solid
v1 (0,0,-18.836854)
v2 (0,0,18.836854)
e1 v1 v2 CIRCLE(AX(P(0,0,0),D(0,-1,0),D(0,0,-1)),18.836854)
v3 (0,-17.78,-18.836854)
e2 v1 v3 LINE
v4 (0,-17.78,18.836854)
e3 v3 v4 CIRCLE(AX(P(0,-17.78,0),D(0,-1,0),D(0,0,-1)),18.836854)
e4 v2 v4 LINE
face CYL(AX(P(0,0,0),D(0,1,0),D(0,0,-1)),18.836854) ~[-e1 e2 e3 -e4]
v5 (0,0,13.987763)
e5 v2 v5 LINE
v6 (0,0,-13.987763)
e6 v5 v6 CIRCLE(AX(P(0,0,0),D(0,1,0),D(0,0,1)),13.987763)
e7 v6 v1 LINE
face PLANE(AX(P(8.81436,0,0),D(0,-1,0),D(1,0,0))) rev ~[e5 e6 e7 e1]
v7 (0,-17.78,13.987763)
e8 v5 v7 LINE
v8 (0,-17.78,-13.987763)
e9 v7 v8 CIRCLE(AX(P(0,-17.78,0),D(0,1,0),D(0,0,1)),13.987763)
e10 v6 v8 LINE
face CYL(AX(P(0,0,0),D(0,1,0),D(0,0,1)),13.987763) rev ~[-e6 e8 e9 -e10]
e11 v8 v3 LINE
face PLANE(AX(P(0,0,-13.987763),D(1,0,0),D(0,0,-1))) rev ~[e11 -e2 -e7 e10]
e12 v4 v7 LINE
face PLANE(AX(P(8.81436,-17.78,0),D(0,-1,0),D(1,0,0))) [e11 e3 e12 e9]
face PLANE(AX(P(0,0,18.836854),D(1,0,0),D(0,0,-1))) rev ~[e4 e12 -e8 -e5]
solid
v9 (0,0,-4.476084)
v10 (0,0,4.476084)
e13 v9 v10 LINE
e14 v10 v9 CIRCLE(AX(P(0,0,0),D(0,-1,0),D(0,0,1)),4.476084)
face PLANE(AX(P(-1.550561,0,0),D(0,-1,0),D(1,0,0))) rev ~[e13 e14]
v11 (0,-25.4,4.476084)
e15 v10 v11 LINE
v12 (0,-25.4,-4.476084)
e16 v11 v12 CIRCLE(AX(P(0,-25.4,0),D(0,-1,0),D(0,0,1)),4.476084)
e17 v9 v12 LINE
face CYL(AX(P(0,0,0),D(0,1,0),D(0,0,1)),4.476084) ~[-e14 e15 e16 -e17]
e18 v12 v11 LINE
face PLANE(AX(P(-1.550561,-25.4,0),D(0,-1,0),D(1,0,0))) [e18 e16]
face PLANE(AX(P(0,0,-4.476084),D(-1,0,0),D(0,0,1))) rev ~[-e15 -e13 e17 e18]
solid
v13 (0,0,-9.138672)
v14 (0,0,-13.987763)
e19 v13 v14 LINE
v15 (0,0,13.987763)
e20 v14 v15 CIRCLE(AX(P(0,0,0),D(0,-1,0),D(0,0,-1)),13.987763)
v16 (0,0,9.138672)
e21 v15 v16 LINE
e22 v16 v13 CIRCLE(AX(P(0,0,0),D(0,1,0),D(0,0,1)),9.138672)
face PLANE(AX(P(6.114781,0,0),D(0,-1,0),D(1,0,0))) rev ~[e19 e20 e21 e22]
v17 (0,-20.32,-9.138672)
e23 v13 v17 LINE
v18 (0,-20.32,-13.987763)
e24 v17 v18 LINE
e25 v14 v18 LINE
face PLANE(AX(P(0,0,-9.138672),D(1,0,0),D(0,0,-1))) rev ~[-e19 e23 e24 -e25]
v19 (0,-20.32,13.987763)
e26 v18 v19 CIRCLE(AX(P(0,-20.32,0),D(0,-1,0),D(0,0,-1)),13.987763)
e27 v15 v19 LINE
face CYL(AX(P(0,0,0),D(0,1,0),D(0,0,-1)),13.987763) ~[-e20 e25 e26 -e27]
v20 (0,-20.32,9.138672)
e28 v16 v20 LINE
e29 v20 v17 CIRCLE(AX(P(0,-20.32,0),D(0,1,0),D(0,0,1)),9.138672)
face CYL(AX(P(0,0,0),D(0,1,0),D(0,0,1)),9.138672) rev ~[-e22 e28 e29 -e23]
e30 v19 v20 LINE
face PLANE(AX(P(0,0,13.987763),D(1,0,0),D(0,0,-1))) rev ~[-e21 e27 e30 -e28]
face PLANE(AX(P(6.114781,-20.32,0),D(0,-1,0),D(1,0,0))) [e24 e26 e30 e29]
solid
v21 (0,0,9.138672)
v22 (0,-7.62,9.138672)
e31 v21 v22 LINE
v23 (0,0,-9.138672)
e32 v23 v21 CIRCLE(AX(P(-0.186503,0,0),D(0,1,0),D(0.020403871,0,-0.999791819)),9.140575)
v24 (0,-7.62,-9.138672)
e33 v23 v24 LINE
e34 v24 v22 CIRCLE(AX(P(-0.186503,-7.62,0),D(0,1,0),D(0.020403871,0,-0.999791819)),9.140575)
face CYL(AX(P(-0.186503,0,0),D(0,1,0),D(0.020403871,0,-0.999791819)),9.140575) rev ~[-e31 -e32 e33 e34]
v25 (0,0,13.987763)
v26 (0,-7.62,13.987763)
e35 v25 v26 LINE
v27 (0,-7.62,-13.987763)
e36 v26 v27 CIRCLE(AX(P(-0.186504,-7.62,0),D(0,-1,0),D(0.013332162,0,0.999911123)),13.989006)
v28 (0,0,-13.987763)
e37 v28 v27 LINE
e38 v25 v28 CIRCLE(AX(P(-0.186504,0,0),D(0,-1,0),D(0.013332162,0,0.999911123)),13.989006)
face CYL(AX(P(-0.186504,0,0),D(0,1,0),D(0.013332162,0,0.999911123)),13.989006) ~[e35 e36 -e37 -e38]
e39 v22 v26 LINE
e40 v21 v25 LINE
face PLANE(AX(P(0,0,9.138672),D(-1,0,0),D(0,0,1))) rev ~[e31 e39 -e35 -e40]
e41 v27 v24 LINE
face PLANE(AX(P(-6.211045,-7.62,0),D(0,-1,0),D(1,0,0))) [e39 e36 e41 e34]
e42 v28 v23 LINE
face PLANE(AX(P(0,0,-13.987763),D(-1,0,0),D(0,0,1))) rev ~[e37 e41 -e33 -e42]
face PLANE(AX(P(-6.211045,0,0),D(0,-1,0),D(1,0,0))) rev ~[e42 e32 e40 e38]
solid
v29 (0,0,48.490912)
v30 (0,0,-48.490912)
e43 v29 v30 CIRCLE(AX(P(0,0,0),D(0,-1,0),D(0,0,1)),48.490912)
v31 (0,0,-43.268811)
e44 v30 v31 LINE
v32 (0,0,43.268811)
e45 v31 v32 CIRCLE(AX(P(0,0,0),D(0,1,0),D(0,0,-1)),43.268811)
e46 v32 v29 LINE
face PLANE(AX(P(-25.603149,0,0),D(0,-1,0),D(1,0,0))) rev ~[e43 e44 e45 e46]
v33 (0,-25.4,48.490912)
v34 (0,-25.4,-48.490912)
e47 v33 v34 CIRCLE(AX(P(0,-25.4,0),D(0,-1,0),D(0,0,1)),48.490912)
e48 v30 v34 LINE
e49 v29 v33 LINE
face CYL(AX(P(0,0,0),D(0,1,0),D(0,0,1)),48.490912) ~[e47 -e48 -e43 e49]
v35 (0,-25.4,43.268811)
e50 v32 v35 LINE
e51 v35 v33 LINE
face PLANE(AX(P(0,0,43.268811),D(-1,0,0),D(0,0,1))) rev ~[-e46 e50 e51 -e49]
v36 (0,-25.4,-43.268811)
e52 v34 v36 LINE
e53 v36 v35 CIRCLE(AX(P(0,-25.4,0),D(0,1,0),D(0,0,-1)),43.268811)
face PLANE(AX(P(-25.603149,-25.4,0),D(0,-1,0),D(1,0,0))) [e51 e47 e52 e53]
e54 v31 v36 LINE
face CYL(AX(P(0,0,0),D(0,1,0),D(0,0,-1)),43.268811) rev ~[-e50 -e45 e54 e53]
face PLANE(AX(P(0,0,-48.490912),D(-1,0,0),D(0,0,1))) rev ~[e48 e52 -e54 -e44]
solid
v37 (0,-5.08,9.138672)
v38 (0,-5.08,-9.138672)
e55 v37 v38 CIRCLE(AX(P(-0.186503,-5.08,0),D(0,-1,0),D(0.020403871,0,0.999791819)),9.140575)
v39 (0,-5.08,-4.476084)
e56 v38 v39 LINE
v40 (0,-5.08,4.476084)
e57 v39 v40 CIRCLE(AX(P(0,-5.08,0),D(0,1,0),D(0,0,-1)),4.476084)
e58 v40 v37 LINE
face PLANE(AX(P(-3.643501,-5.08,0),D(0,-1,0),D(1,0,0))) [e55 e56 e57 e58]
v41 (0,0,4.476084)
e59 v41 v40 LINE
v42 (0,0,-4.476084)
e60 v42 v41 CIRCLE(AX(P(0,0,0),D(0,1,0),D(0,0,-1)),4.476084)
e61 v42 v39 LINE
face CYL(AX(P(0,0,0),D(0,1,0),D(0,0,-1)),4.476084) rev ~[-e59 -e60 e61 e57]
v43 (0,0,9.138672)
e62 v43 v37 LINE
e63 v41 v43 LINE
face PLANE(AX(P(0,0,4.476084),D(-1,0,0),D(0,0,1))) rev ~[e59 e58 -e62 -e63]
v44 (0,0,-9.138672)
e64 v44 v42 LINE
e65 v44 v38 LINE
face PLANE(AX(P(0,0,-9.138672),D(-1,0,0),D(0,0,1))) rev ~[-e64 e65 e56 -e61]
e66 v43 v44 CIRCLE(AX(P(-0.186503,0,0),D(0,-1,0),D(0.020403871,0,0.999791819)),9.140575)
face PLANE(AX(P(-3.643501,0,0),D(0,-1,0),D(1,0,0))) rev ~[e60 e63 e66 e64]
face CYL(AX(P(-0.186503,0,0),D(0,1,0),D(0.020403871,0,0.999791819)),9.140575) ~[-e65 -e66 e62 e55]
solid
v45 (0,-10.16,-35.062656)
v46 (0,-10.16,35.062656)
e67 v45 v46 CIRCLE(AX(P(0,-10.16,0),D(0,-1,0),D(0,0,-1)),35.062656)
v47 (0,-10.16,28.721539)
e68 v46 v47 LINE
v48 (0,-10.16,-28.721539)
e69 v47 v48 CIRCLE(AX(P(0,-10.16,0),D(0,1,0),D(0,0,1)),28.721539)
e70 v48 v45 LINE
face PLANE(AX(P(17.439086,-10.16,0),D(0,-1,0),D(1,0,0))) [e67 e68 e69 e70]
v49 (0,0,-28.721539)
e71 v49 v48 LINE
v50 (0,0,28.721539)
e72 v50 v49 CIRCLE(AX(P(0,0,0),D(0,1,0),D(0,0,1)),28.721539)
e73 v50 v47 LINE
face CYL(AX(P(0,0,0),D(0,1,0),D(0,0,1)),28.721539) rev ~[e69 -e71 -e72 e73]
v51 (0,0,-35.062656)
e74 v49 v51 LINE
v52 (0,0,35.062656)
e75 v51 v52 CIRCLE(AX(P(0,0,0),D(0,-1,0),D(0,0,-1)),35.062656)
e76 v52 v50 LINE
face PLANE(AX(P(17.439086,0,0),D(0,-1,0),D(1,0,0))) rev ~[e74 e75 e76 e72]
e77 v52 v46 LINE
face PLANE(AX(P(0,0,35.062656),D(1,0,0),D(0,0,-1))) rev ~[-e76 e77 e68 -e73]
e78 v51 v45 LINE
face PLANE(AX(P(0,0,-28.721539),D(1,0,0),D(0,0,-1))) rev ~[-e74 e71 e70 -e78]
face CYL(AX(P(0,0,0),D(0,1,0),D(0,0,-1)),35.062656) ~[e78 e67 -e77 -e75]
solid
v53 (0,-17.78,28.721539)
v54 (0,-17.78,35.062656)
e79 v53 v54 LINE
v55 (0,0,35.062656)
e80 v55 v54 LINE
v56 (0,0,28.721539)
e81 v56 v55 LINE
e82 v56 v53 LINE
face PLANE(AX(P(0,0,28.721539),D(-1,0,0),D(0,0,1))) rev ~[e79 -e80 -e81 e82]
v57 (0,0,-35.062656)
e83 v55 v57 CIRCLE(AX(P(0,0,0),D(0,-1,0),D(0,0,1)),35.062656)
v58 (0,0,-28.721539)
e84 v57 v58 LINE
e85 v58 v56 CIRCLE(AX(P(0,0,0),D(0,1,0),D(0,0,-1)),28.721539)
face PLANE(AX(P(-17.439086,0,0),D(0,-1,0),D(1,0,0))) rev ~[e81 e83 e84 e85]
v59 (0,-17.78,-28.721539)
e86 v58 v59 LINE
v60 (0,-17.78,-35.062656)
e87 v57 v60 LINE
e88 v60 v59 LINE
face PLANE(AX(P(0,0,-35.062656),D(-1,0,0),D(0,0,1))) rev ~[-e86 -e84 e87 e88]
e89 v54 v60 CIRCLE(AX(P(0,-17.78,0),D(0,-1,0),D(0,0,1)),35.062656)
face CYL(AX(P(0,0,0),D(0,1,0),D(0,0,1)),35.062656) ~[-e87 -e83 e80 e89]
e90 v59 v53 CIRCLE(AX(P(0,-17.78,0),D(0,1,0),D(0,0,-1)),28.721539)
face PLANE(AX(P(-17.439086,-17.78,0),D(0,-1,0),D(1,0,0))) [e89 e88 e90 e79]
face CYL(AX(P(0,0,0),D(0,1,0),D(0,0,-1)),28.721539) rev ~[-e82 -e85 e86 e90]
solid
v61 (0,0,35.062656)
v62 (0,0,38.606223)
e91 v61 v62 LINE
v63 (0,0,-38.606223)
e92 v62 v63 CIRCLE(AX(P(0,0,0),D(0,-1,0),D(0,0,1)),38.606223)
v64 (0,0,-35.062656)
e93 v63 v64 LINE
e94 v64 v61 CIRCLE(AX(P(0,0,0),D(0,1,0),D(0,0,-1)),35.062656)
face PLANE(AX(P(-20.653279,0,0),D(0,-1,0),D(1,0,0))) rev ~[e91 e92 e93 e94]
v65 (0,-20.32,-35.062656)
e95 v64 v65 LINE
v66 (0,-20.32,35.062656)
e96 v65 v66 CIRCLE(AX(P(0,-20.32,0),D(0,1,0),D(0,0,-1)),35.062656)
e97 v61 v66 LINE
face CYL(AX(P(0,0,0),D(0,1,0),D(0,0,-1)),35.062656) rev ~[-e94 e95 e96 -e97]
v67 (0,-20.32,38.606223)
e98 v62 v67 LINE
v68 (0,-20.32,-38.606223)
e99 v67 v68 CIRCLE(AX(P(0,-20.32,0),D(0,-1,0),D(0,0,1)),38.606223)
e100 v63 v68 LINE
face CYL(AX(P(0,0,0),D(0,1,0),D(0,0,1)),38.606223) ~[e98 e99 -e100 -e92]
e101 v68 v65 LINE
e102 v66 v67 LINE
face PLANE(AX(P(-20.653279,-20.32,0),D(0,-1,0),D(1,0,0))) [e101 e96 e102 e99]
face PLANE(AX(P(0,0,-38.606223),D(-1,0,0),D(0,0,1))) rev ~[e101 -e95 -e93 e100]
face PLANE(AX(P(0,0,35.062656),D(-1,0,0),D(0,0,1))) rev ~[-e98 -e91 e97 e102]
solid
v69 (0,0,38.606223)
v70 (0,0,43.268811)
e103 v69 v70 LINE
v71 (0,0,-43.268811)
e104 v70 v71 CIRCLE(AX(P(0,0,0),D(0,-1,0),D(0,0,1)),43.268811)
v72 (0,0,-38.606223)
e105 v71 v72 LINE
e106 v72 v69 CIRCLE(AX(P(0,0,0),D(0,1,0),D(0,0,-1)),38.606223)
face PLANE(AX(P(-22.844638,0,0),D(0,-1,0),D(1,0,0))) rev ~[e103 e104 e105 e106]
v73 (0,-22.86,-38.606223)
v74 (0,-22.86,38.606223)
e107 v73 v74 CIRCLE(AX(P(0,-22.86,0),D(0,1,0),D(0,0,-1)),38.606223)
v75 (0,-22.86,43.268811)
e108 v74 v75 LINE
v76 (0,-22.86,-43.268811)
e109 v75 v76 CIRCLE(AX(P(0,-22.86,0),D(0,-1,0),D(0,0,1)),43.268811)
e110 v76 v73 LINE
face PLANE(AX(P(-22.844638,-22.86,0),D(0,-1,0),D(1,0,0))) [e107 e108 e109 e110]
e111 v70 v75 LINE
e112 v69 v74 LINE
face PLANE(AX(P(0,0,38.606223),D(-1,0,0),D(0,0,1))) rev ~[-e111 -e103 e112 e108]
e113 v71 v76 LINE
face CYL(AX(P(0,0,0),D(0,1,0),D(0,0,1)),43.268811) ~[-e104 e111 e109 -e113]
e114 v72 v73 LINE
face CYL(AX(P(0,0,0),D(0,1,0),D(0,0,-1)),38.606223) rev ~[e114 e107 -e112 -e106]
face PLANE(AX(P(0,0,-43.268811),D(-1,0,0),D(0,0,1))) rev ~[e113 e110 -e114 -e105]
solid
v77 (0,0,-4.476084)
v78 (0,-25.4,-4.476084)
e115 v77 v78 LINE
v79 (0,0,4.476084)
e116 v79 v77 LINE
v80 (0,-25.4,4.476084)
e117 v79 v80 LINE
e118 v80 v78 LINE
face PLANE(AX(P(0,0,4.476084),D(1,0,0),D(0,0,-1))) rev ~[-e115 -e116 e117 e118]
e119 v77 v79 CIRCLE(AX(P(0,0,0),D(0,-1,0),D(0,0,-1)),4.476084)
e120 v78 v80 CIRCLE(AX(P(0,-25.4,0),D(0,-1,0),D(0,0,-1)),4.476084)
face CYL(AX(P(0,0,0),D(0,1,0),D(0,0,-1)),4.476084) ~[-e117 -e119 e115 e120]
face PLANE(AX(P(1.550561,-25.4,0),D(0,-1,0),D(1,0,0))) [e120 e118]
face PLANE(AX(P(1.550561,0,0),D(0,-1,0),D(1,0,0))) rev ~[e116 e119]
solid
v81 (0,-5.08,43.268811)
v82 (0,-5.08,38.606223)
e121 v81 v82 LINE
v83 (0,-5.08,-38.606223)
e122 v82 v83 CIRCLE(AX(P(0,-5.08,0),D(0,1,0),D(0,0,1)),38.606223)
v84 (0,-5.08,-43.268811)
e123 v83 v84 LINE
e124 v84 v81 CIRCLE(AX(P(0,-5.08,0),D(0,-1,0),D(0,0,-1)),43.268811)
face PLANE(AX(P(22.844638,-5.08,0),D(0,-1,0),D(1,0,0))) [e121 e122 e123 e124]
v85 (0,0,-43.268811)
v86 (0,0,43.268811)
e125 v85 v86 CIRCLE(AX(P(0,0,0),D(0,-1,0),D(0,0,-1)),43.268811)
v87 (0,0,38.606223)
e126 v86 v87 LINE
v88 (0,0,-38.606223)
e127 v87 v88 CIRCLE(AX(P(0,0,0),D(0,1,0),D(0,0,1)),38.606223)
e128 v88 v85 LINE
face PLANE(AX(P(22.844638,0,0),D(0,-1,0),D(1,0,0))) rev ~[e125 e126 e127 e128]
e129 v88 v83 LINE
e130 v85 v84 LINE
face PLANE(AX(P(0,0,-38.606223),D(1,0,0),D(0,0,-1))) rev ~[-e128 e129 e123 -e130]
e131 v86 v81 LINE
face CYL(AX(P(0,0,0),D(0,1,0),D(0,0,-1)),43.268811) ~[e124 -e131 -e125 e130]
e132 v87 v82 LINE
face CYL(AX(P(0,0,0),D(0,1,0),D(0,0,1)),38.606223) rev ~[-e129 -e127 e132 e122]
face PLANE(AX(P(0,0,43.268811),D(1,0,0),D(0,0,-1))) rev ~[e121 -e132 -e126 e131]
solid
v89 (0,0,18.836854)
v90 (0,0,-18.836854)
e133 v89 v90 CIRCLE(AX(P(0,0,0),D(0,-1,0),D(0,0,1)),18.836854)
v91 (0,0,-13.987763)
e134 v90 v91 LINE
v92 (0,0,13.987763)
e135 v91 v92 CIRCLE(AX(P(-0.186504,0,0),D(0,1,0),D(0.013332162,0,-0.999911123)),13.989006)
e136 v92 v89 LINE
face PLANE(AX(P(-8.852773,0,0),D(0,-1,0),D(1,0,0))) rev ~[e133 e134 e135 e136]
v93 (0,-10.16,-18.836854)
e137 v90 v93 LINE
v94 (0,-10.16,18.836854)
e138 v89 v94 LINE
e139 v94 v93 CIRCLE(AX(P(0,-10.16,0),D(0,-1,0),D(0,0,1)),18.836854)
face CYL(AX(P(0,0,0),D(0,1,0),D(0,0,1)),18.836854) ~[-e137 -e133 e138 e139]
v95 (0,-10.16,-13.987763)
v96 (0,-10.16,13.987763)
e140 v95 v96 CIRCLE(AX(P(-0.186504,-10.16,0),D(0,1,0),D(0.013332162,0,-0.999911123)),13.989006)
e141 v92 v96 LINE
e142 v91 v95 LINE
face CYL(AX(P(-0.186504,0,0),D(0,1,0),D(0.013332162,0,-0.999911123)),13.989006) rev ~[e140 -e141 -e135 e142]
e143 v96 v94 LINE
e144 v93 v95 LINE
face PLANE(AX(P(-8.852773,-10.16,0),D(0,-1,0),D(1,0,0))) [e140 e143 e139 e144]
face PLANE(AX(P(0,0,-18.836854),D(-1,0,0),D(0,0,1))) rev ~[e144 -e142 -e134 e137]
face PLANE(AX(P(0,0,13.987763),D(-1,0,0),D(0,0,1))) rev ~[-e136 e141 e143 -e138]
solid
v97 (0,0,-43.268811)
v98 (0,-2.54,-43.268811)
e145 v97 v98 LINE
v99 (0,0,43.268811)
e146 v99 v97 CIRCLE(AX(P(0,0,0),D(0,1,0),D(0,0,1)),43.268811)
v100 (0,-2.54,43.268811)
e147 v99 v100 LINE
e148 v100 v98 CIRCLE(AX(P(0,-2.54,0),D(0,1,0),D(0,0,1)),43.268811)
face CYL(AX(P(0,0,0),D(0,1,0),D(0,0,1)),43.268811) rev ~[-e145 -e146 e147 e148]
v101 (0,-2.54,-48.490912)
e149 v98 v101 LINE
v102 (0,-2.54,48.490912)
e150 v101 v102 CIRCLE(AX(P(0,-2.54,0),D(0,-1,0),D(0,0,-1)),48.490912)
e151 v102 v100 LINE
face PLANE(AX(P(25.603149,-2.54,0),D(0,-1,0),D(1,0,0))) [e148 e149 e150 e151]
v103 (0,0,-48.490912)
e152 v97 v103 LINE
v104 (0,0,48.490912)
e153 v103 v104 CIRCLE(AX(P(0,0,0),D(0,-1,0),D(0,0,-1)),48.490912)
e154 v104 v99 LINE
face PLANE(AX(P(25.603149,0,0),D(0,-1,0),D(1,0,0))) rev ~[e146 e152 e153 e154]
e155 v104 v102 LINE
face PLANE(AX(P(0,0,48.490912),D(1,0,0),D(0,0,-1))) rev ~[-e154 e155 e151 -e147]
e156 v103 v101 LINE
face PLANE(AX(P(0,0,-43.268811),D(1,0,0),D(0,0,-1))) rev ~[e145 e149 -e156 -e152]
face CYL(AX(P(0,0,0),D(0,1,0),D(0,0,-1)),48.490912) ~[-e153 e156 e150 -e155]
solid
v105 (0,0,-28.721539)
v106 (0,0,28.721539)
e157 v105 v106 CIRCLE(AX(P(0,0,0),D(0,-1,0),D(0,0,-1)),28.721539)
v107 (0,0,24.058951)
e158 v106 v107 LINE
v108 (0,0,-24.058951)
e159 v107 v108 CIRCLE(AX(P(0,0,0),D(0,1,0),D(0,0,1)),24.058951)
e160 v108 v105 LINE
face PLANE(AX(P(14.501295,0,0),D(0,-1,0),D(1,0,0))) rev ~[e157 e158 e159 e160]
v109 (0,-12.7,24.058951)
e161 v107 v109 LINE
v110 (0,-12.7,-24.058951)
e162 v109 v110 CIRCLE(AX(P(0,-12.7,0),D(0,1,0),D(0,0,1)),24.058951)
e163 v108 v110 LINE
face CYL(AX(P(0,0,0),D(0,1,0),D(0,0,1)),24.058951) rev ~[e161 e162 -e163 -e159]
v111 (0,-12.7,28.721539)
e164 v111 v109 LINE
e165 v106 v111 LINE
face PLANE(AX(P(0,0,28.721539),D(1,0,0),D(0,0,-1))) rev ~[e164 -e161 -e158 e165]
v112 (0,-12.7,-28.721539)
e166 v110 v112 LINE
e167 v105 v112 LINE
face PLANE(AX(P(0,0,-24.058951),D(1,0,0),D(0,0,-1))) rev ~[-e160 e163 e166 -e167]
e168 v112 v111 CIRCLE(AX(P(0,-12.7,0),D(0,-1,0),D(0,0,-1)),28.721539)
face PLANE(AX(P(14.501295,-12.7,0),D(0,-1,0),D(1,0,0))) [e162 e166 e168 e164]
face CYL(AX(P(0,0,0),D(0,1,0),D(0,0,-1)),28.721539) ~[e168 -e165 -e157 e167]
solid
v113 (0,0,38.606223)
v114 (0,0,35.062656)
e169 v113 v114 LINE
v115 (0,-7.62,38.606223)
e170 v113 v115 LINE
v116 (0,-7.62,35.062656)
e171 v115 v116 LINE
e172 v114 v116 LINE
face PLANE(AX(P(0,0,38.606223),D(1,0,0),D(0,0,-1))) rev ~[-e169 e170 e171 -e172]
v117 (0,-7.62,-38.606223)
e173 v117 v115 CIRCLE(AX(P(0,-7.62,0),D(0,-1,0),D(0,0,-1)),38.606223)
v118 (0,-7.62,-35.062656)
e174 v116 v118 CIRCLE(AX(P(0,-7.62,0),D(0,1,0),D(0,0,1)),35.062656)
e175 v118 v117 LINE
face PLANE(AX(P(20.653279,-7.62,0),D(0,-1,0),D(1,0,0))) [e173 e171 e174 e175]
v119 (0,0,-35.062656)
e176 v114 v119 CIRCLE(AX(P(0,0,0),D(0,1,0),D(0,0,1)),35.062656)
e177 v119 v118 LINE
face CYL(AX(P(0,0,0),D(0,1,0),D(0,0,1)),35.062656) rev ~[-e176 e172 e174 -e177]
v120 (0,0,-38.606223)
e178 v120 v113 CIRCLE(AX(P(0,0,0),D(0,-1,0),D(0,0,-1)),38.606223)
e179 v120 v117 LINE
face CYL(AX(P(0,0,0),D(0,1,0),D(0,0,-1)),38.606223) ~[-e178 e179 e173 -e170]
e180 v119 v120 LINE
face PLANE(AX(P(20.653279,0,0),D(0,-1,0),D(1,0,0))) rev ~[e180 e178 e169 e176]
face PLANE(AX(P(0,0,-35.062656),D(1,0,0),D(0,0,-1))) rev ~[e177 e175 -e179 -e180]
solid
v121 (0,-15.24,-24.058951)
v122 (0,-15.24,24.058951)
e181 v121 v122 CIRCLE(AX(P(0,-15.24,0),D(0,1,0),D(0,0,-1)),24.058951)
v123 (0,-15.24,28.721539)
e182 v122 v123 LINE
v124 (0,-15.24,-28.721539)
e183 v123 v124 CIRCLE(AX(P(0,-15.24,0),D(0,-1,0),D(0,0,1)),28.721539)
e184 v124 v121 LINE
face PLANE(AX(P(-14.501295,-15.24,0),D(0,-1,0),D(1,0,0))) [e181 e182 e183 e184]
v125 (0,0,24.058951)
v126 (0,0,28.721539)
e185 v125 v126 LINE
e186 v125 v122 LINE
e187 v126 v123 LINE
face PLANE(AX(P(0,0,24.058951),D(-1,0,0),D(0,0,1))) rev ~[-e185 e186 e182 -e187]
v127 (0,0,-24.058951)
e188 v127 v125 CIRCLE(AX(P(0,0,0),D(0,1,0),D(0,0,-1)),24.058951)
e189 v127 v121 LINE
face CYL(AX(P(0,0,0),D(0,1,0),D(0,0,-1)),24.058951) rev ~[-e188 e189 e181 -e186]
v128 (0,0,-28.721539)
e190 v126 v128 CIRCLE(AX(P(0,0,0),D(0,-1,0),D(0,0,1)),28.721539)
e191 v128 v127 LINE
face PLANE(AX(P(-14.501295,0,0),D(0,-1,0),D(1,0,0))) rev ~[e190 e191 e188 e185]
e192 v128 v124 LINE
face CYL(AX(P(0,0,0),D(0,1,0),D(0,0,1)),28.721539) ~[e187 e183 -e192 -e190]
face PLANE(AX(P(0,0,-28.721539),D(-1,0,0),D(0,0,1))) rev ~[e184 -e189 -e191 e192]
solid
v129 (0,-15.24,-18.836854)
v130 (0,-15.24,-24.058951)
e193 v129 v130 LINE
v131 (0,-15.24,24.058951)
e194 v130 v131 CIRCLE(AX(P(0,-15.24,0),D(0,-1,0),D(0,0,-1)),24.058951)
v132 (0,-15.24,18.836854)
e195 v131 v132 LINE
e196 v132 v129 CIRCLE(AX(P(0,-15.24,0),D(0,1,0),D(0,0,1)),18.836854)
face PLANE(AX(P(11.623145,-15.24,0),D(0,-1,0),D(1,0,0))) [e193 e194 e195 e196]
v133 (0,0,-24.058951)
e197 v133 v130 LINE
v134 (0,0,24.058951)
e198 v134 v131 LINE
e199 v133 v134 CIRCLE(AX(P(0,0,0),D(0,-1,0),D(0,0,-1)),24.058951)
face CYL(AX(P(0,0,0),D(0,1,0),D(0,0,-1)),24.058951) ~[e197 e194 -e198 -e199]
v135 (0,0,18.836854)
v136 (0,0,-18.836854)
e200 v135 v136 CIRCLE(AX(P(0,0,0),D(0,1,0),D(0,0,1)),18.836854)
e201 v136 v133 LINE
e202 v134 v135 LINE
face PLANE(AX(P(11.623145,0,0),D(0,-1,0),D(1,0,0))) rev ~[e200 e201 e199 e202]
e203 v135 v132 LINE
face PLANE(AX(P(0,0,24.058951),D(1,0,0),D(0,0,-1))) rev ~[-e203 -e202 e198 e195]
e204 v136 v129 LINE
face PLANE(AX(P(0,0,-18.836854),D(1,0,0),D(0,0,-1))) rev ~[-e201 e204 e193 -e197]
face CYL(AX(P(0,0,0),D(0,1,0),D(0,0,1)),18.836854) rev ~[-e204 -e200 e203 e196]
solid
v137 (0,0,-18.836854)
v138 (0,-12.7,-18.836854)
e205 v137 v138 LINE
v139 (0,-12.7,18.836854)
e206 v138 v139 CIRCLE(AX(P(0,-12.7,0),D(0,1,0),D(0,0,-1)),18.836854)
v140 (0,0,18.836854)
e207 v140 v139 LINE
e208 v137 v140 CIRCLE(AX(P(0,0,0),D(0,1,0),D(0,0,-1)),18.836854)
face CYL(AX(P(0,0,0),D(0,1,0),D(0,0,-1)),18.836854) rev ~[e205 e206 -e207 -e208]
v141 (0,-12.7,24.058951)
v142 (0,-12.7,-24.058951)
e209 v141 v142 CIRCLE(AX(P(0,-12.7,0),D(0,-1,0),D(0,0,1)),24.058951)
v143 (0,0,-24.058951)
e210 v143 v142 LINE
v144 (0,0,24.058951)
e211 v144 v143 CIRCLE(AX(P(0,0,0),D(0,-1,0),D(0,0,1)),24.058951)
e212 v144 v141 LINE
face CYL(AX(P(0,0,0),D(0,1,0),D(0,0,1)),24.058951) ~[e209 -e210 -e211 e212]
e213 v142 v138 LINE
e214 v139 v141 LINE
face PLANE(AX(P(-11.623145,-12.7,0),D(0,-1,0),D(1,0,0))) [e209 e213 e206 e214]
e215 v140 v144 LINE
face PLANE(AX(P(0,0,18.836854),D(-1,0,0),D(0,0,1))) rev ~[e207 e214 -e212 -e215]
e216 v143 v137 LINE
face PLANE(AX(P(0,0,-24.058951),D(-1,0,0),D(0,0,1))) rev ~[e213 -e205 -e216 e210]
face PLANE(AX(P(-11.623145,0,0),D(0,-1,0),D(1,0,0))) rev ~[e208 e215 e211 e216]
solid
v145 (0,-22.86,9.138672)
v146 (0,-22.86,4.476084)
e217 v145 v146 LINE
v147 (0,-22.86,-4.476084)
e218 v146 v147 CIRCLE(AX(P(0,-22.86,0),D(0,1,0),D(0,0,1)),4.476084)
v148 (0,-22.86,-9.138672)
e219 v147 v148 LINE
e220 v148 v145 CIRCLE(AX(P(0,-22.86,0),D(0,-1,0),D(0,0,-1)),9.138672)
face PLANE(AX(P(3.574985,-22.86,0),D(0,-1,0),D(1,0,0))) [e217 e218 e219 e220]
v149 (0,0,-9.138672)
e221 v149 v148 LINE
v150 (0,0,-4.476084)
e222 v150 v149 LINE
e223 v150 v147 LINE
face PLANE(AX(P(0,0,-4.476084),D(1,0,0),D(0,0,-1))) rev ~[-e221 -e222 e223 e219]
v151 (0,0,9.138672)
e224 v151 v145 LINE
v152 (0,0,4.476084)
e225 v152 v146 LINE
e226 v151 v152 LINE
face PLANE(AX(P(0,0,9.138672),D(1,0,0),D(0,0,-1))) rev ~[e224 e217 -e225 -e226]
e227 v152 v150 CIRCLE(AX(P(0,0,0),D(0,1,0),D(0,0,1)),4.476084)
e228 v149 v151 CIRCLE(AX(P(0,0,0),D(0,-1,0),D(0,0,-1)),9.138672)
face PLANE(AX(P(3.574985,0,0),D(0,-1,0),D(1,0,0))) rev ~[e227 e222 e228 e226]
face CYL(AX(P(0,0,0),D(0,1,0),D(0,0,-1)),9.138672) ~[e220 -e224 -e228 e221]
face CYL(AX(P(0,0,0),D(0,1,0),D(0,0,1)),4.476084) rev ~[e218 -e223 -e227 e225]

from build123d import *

# Parameters (mm, degrees)
F1_DEPTH  = 2.54
F2_DEPTH  = 5.08
F3_DEPTH  = 7.62
F4_DEPTH  = 10.16
F5_DEPTH  = 12.7
F6_DEPTH  = 15.24
F7_DEPTH  = 17.78
F8_DEPTH  = 20.32
F9_DEPTH  = 22.86
F10_DEPTH = 25.4
F11_DEPTH = 25.4


with BuildPart() as f1:
    # F0 (on Front) → F1 (new body)
    with BuildSketch(Plane.XZ):
        with BuildLine():
            Line((0, 48.490912), (0, 43.268811))
            ThreePointArc((0, 43.268811), (43.268811, 0), (0, -43.268811))
            Line((0, -43.268811), (0, -48.490912))
            ThreePointArc((0, -48.490912), (48.490912, 0), (0, 48.490912))
        make_face()
    extrude(amount=F1_DEPTH)


with BuildPart() as f2:
    # F0 (on Front) → F2 (new body)
    with BuildSketch(Plane.XZ):
        with BuildLine():
            ThreePointArc((0, -4.476084), (-4.476084, 0), (0, 4.476084))
            Line((0, 4.476084), (0, 9.138672))
            ThreePointArc((0, 9.138672), (-9.327078, 0), (0, -9.138672))
            Line((0, -9.138672), (0, -4.476084))
        make_face()
        with BuildLine():
            Line((0, 43.268811), (0, 38.606223))
            ThreePointArc((0, 38.606223), (38.606223, 0), (0, -38.606223))
            Line((0, -38.606223), (0, -43.268811))
            ThreePointArc((0, -43.268811), (43.268811, 0), (0, 43.268811))
        make_face()
    extrude(amount=F2_DEPTH)


with BuildPart() as f3:
    # F0 (on Front) → F3 (new body)
    with BuildSketch(Plane.XZ):
        with BuildLine():
            ThreePointArc((0, -9.138672), (-9.327078, 0), (0, 9.138672))
            Line((0, 9.138672), (0, 13.987763))
            ThreePointArc((0, 13.987763), (-14.17551, 0), (0, -13.987763))
            Line((0, -13.987763), (0, -9.138672))
        make_face()
        with BuildLine():
            Line((0, 38.606223), (0, 35.062656))
            ThreePointArc((0, 35.062656), (35.062656, 0), (0, -35.062656))
            Line((0, -35.062656), (0, -38.606223))
            ThreePointArc((0, -38.606223), (38.606223, 0), (0, 38.606223))
        make_face()
    extrude(amount=F3_DEPTH)


with BuildPart() as f4:
    # F0 (on Front) → F4 (new body)
    with BuildSketch(Plane.XZ):
        with BuildLine():
            ThreePointArc((0, -13.987763), (-14.17551, 0), (0, 13.987763))
            Line((0, 13.987763), (0, 18.836854))
            ThreePointArc((0, 18.836854), (-18.836854, 0), (0, -18.836854))
            Line((0, -18.836854), (0, -13.987763))
        make_face()
        with BuildLine():
            Line((0, 35.062656), (0, 28.721539))
            ThreePointArc((0, 28.721539), (28.721539, 0), (0, -28.721539))
            Line((0, -28.721539), (0, -35.062656))
            ThreePointArc((0, -35.062656), (35.062656, 0), (0, 35.062656))
        make_face()
    extrude(amount=F4_DEPTH)


with BuildPart() as f5:
    # F0 (on Front) → F5 (new body)
    with BuildSketch(Plane.XZ):
        with BuildLine():
            ThreePointArc((0, -18.836854), (-18.836854, 0), (0, 18.836854))
            Line((0, 18.836854), (0, 24.058951))
            ThreePointArc((0, 24.058951), (-24.058951, 0), (0, -24.058951))
            Line((0, -24.058951), (0, -18.836854))
        make_face()
        with BuildLine():
            Line((0, 28.721539), (0, 24.058951))
            ThreePointArc((0, 24.058951), (24.058951, 0), (0, -24.058951))
            Line((0, -24.058951), (0, -28.721539))
            ThreePointArc((0, -28.721539), (28.721539, 0), (0, 28.721539))
        make_face()
    extrude(amount=F5_DEPTH)


with BuildPart() as f6:
    # F0 (on Front) → F6 (new body)
    with BuildSketch(Plane.XZ):
        with BuildLine():
            Line((0, 24.058951), (0, 18.836854))
            ThreePointArc((0, 18.836854), (18.836854, 0), (0, -18.836854))
            Line((0, -18.836854), (0, -24.058951))
            ThreePointArc((0, -24.058951), (24.058951, 0), (0, 24.058951))
        make_face()
        with BuildLine():
            ThreePointArc((0, -24.058951), (-24.058951, 0), (0, 24.058951))
            Line((0, 24.058951), (0, 28.721539))
            ThreePointArc((0, 28.721539), (-28.721539, 0), (0, -28.721539))
            Line((0, -28.721539), (0, -24.058951))
        make_face()
    extrude(amount=F6_DEPTH)


with BuildPart() as f7:
    # F0 (on Front) → F7 (new body)
    with BuildSketch(Plane.XZ):
        with BuildLine():
            ThreePointArc((0, -28.721539), (-28.721539, 0), (0, 28.721539))
            Line((0, 28.721539), (0, 35.062656))
            ThreePointArc((0, 35.062656), (-35.062656, 0), (0, -35.062656))
            Line((0, -35.062656), (0, -28.721539))
        make_face()
        with BuildLine():
            Line((0, 18.836854), (0, 13.987763))
            ThreePointArc((0, 13.987763), (13.987763, 0), (0, -13.987763))
            Line((0, -13.987763), (0, -18.836854))
            ThreePointArc((0, -18.836854), (18.836854, 0), (0, 18.836854))
        make_face()
    extrude(amount=F7_DEPTH)


with BuildPart() as f8:
    # F0 (on Front) → F8 (new body)
    with BuildSketch(Plane.XZ):
        with BuildLine():
            Line((0, 13.987763), (0, 9.138672))
            ThreePointArc((0, 9.138672), (9.138672, 0), (0, -9.138672))
            Line((0, -9.138672), (0, -13.987763))
            ThreePointArc((0, -13.987763), (13.987763, 0), (0, 13.987763))
        make_face()
        with BuildLine():
            ThreePointArc((0, -35.062656), (-35.062656, 0), (0, 35.062656))
            Line((0, 35.062656), (0, 38.606223))
            ThreePointArc((0, 38.606223), (-38.606223, 0), (0, -38.606223))
            Line((0, -38.606223), (0, -35.062656))
        make_face()
    extrude(amount=F8_DEPTH)


with BuildPart() as f9:
    # F0 (on Front) → F9 (new body)
    with BuildSketch(Plane.XZ):
        with BuildLine():
            ThreePointArc((0, -38.606223), (-38.606223, 0), (0, 38.606223))
            Line((0, 38.606223), (0, 43.268811))
            ThreePointArc((0, 43.268811), (-43.268811, 0), (0, -43.268811))
            Line((0, -43.268811), (0, -38.606223))
        make_face()
        with BuildLine():
            Line((0, 9.138672), (0, 4.476084))
            ThreePointArc((0, 4.476084), (4.476084, 0), (0, -4.476084))
            Line((0, -4.476084), (0, -9.138672))
            ThreePointArc((0, -9.138672), (9.138672, 0), (0, 9.138672))
        make_face()
    extrude(amount=F9_DEPTH)


with BuildPart() as f10:
    # F0 (on Front) → F10 (new body)
    with BuildSketch(Plane.XZ):
        with BuildLine():
            ThreePointArc((0, -43.268811), (-43.268811, 0), (0, 43.268811))
            Line((0, 43.268811), (0, 48.490912))
            ThreePointArc((0, 48.490912), (-48.490912, 0), (0, -48.490912))
            Line((0, -48.490912), (0, -43.268811))
        make_face()
        with BuildLine():
            ThreePointArc((0, -4.476084), (4.476084, 0), (0, 4.476084))
            Line((0, 4.476084), (0, -4.476084))
        make_face()
    extrude(amount=F10_DEPTH)


with BuildPart() as f11:
    # F0 (on Front) → F11 (new body)
    with BuildSketch(Plane.XZ):
        with BuildLine():
            Line((0, -4.476084), (0, 4.476084))
            ThreePointArc((0, 4.476084), (-4.476084, 0), (0, -4.476084))
        make_face()
    extrude(amount=F11_DEPTH)


solid = Compound([f1.part, f2.part, f3.part, f4.part, f5.part, f6.part, f7.part, f8.part, f9.part, f10.part, f11.part])
